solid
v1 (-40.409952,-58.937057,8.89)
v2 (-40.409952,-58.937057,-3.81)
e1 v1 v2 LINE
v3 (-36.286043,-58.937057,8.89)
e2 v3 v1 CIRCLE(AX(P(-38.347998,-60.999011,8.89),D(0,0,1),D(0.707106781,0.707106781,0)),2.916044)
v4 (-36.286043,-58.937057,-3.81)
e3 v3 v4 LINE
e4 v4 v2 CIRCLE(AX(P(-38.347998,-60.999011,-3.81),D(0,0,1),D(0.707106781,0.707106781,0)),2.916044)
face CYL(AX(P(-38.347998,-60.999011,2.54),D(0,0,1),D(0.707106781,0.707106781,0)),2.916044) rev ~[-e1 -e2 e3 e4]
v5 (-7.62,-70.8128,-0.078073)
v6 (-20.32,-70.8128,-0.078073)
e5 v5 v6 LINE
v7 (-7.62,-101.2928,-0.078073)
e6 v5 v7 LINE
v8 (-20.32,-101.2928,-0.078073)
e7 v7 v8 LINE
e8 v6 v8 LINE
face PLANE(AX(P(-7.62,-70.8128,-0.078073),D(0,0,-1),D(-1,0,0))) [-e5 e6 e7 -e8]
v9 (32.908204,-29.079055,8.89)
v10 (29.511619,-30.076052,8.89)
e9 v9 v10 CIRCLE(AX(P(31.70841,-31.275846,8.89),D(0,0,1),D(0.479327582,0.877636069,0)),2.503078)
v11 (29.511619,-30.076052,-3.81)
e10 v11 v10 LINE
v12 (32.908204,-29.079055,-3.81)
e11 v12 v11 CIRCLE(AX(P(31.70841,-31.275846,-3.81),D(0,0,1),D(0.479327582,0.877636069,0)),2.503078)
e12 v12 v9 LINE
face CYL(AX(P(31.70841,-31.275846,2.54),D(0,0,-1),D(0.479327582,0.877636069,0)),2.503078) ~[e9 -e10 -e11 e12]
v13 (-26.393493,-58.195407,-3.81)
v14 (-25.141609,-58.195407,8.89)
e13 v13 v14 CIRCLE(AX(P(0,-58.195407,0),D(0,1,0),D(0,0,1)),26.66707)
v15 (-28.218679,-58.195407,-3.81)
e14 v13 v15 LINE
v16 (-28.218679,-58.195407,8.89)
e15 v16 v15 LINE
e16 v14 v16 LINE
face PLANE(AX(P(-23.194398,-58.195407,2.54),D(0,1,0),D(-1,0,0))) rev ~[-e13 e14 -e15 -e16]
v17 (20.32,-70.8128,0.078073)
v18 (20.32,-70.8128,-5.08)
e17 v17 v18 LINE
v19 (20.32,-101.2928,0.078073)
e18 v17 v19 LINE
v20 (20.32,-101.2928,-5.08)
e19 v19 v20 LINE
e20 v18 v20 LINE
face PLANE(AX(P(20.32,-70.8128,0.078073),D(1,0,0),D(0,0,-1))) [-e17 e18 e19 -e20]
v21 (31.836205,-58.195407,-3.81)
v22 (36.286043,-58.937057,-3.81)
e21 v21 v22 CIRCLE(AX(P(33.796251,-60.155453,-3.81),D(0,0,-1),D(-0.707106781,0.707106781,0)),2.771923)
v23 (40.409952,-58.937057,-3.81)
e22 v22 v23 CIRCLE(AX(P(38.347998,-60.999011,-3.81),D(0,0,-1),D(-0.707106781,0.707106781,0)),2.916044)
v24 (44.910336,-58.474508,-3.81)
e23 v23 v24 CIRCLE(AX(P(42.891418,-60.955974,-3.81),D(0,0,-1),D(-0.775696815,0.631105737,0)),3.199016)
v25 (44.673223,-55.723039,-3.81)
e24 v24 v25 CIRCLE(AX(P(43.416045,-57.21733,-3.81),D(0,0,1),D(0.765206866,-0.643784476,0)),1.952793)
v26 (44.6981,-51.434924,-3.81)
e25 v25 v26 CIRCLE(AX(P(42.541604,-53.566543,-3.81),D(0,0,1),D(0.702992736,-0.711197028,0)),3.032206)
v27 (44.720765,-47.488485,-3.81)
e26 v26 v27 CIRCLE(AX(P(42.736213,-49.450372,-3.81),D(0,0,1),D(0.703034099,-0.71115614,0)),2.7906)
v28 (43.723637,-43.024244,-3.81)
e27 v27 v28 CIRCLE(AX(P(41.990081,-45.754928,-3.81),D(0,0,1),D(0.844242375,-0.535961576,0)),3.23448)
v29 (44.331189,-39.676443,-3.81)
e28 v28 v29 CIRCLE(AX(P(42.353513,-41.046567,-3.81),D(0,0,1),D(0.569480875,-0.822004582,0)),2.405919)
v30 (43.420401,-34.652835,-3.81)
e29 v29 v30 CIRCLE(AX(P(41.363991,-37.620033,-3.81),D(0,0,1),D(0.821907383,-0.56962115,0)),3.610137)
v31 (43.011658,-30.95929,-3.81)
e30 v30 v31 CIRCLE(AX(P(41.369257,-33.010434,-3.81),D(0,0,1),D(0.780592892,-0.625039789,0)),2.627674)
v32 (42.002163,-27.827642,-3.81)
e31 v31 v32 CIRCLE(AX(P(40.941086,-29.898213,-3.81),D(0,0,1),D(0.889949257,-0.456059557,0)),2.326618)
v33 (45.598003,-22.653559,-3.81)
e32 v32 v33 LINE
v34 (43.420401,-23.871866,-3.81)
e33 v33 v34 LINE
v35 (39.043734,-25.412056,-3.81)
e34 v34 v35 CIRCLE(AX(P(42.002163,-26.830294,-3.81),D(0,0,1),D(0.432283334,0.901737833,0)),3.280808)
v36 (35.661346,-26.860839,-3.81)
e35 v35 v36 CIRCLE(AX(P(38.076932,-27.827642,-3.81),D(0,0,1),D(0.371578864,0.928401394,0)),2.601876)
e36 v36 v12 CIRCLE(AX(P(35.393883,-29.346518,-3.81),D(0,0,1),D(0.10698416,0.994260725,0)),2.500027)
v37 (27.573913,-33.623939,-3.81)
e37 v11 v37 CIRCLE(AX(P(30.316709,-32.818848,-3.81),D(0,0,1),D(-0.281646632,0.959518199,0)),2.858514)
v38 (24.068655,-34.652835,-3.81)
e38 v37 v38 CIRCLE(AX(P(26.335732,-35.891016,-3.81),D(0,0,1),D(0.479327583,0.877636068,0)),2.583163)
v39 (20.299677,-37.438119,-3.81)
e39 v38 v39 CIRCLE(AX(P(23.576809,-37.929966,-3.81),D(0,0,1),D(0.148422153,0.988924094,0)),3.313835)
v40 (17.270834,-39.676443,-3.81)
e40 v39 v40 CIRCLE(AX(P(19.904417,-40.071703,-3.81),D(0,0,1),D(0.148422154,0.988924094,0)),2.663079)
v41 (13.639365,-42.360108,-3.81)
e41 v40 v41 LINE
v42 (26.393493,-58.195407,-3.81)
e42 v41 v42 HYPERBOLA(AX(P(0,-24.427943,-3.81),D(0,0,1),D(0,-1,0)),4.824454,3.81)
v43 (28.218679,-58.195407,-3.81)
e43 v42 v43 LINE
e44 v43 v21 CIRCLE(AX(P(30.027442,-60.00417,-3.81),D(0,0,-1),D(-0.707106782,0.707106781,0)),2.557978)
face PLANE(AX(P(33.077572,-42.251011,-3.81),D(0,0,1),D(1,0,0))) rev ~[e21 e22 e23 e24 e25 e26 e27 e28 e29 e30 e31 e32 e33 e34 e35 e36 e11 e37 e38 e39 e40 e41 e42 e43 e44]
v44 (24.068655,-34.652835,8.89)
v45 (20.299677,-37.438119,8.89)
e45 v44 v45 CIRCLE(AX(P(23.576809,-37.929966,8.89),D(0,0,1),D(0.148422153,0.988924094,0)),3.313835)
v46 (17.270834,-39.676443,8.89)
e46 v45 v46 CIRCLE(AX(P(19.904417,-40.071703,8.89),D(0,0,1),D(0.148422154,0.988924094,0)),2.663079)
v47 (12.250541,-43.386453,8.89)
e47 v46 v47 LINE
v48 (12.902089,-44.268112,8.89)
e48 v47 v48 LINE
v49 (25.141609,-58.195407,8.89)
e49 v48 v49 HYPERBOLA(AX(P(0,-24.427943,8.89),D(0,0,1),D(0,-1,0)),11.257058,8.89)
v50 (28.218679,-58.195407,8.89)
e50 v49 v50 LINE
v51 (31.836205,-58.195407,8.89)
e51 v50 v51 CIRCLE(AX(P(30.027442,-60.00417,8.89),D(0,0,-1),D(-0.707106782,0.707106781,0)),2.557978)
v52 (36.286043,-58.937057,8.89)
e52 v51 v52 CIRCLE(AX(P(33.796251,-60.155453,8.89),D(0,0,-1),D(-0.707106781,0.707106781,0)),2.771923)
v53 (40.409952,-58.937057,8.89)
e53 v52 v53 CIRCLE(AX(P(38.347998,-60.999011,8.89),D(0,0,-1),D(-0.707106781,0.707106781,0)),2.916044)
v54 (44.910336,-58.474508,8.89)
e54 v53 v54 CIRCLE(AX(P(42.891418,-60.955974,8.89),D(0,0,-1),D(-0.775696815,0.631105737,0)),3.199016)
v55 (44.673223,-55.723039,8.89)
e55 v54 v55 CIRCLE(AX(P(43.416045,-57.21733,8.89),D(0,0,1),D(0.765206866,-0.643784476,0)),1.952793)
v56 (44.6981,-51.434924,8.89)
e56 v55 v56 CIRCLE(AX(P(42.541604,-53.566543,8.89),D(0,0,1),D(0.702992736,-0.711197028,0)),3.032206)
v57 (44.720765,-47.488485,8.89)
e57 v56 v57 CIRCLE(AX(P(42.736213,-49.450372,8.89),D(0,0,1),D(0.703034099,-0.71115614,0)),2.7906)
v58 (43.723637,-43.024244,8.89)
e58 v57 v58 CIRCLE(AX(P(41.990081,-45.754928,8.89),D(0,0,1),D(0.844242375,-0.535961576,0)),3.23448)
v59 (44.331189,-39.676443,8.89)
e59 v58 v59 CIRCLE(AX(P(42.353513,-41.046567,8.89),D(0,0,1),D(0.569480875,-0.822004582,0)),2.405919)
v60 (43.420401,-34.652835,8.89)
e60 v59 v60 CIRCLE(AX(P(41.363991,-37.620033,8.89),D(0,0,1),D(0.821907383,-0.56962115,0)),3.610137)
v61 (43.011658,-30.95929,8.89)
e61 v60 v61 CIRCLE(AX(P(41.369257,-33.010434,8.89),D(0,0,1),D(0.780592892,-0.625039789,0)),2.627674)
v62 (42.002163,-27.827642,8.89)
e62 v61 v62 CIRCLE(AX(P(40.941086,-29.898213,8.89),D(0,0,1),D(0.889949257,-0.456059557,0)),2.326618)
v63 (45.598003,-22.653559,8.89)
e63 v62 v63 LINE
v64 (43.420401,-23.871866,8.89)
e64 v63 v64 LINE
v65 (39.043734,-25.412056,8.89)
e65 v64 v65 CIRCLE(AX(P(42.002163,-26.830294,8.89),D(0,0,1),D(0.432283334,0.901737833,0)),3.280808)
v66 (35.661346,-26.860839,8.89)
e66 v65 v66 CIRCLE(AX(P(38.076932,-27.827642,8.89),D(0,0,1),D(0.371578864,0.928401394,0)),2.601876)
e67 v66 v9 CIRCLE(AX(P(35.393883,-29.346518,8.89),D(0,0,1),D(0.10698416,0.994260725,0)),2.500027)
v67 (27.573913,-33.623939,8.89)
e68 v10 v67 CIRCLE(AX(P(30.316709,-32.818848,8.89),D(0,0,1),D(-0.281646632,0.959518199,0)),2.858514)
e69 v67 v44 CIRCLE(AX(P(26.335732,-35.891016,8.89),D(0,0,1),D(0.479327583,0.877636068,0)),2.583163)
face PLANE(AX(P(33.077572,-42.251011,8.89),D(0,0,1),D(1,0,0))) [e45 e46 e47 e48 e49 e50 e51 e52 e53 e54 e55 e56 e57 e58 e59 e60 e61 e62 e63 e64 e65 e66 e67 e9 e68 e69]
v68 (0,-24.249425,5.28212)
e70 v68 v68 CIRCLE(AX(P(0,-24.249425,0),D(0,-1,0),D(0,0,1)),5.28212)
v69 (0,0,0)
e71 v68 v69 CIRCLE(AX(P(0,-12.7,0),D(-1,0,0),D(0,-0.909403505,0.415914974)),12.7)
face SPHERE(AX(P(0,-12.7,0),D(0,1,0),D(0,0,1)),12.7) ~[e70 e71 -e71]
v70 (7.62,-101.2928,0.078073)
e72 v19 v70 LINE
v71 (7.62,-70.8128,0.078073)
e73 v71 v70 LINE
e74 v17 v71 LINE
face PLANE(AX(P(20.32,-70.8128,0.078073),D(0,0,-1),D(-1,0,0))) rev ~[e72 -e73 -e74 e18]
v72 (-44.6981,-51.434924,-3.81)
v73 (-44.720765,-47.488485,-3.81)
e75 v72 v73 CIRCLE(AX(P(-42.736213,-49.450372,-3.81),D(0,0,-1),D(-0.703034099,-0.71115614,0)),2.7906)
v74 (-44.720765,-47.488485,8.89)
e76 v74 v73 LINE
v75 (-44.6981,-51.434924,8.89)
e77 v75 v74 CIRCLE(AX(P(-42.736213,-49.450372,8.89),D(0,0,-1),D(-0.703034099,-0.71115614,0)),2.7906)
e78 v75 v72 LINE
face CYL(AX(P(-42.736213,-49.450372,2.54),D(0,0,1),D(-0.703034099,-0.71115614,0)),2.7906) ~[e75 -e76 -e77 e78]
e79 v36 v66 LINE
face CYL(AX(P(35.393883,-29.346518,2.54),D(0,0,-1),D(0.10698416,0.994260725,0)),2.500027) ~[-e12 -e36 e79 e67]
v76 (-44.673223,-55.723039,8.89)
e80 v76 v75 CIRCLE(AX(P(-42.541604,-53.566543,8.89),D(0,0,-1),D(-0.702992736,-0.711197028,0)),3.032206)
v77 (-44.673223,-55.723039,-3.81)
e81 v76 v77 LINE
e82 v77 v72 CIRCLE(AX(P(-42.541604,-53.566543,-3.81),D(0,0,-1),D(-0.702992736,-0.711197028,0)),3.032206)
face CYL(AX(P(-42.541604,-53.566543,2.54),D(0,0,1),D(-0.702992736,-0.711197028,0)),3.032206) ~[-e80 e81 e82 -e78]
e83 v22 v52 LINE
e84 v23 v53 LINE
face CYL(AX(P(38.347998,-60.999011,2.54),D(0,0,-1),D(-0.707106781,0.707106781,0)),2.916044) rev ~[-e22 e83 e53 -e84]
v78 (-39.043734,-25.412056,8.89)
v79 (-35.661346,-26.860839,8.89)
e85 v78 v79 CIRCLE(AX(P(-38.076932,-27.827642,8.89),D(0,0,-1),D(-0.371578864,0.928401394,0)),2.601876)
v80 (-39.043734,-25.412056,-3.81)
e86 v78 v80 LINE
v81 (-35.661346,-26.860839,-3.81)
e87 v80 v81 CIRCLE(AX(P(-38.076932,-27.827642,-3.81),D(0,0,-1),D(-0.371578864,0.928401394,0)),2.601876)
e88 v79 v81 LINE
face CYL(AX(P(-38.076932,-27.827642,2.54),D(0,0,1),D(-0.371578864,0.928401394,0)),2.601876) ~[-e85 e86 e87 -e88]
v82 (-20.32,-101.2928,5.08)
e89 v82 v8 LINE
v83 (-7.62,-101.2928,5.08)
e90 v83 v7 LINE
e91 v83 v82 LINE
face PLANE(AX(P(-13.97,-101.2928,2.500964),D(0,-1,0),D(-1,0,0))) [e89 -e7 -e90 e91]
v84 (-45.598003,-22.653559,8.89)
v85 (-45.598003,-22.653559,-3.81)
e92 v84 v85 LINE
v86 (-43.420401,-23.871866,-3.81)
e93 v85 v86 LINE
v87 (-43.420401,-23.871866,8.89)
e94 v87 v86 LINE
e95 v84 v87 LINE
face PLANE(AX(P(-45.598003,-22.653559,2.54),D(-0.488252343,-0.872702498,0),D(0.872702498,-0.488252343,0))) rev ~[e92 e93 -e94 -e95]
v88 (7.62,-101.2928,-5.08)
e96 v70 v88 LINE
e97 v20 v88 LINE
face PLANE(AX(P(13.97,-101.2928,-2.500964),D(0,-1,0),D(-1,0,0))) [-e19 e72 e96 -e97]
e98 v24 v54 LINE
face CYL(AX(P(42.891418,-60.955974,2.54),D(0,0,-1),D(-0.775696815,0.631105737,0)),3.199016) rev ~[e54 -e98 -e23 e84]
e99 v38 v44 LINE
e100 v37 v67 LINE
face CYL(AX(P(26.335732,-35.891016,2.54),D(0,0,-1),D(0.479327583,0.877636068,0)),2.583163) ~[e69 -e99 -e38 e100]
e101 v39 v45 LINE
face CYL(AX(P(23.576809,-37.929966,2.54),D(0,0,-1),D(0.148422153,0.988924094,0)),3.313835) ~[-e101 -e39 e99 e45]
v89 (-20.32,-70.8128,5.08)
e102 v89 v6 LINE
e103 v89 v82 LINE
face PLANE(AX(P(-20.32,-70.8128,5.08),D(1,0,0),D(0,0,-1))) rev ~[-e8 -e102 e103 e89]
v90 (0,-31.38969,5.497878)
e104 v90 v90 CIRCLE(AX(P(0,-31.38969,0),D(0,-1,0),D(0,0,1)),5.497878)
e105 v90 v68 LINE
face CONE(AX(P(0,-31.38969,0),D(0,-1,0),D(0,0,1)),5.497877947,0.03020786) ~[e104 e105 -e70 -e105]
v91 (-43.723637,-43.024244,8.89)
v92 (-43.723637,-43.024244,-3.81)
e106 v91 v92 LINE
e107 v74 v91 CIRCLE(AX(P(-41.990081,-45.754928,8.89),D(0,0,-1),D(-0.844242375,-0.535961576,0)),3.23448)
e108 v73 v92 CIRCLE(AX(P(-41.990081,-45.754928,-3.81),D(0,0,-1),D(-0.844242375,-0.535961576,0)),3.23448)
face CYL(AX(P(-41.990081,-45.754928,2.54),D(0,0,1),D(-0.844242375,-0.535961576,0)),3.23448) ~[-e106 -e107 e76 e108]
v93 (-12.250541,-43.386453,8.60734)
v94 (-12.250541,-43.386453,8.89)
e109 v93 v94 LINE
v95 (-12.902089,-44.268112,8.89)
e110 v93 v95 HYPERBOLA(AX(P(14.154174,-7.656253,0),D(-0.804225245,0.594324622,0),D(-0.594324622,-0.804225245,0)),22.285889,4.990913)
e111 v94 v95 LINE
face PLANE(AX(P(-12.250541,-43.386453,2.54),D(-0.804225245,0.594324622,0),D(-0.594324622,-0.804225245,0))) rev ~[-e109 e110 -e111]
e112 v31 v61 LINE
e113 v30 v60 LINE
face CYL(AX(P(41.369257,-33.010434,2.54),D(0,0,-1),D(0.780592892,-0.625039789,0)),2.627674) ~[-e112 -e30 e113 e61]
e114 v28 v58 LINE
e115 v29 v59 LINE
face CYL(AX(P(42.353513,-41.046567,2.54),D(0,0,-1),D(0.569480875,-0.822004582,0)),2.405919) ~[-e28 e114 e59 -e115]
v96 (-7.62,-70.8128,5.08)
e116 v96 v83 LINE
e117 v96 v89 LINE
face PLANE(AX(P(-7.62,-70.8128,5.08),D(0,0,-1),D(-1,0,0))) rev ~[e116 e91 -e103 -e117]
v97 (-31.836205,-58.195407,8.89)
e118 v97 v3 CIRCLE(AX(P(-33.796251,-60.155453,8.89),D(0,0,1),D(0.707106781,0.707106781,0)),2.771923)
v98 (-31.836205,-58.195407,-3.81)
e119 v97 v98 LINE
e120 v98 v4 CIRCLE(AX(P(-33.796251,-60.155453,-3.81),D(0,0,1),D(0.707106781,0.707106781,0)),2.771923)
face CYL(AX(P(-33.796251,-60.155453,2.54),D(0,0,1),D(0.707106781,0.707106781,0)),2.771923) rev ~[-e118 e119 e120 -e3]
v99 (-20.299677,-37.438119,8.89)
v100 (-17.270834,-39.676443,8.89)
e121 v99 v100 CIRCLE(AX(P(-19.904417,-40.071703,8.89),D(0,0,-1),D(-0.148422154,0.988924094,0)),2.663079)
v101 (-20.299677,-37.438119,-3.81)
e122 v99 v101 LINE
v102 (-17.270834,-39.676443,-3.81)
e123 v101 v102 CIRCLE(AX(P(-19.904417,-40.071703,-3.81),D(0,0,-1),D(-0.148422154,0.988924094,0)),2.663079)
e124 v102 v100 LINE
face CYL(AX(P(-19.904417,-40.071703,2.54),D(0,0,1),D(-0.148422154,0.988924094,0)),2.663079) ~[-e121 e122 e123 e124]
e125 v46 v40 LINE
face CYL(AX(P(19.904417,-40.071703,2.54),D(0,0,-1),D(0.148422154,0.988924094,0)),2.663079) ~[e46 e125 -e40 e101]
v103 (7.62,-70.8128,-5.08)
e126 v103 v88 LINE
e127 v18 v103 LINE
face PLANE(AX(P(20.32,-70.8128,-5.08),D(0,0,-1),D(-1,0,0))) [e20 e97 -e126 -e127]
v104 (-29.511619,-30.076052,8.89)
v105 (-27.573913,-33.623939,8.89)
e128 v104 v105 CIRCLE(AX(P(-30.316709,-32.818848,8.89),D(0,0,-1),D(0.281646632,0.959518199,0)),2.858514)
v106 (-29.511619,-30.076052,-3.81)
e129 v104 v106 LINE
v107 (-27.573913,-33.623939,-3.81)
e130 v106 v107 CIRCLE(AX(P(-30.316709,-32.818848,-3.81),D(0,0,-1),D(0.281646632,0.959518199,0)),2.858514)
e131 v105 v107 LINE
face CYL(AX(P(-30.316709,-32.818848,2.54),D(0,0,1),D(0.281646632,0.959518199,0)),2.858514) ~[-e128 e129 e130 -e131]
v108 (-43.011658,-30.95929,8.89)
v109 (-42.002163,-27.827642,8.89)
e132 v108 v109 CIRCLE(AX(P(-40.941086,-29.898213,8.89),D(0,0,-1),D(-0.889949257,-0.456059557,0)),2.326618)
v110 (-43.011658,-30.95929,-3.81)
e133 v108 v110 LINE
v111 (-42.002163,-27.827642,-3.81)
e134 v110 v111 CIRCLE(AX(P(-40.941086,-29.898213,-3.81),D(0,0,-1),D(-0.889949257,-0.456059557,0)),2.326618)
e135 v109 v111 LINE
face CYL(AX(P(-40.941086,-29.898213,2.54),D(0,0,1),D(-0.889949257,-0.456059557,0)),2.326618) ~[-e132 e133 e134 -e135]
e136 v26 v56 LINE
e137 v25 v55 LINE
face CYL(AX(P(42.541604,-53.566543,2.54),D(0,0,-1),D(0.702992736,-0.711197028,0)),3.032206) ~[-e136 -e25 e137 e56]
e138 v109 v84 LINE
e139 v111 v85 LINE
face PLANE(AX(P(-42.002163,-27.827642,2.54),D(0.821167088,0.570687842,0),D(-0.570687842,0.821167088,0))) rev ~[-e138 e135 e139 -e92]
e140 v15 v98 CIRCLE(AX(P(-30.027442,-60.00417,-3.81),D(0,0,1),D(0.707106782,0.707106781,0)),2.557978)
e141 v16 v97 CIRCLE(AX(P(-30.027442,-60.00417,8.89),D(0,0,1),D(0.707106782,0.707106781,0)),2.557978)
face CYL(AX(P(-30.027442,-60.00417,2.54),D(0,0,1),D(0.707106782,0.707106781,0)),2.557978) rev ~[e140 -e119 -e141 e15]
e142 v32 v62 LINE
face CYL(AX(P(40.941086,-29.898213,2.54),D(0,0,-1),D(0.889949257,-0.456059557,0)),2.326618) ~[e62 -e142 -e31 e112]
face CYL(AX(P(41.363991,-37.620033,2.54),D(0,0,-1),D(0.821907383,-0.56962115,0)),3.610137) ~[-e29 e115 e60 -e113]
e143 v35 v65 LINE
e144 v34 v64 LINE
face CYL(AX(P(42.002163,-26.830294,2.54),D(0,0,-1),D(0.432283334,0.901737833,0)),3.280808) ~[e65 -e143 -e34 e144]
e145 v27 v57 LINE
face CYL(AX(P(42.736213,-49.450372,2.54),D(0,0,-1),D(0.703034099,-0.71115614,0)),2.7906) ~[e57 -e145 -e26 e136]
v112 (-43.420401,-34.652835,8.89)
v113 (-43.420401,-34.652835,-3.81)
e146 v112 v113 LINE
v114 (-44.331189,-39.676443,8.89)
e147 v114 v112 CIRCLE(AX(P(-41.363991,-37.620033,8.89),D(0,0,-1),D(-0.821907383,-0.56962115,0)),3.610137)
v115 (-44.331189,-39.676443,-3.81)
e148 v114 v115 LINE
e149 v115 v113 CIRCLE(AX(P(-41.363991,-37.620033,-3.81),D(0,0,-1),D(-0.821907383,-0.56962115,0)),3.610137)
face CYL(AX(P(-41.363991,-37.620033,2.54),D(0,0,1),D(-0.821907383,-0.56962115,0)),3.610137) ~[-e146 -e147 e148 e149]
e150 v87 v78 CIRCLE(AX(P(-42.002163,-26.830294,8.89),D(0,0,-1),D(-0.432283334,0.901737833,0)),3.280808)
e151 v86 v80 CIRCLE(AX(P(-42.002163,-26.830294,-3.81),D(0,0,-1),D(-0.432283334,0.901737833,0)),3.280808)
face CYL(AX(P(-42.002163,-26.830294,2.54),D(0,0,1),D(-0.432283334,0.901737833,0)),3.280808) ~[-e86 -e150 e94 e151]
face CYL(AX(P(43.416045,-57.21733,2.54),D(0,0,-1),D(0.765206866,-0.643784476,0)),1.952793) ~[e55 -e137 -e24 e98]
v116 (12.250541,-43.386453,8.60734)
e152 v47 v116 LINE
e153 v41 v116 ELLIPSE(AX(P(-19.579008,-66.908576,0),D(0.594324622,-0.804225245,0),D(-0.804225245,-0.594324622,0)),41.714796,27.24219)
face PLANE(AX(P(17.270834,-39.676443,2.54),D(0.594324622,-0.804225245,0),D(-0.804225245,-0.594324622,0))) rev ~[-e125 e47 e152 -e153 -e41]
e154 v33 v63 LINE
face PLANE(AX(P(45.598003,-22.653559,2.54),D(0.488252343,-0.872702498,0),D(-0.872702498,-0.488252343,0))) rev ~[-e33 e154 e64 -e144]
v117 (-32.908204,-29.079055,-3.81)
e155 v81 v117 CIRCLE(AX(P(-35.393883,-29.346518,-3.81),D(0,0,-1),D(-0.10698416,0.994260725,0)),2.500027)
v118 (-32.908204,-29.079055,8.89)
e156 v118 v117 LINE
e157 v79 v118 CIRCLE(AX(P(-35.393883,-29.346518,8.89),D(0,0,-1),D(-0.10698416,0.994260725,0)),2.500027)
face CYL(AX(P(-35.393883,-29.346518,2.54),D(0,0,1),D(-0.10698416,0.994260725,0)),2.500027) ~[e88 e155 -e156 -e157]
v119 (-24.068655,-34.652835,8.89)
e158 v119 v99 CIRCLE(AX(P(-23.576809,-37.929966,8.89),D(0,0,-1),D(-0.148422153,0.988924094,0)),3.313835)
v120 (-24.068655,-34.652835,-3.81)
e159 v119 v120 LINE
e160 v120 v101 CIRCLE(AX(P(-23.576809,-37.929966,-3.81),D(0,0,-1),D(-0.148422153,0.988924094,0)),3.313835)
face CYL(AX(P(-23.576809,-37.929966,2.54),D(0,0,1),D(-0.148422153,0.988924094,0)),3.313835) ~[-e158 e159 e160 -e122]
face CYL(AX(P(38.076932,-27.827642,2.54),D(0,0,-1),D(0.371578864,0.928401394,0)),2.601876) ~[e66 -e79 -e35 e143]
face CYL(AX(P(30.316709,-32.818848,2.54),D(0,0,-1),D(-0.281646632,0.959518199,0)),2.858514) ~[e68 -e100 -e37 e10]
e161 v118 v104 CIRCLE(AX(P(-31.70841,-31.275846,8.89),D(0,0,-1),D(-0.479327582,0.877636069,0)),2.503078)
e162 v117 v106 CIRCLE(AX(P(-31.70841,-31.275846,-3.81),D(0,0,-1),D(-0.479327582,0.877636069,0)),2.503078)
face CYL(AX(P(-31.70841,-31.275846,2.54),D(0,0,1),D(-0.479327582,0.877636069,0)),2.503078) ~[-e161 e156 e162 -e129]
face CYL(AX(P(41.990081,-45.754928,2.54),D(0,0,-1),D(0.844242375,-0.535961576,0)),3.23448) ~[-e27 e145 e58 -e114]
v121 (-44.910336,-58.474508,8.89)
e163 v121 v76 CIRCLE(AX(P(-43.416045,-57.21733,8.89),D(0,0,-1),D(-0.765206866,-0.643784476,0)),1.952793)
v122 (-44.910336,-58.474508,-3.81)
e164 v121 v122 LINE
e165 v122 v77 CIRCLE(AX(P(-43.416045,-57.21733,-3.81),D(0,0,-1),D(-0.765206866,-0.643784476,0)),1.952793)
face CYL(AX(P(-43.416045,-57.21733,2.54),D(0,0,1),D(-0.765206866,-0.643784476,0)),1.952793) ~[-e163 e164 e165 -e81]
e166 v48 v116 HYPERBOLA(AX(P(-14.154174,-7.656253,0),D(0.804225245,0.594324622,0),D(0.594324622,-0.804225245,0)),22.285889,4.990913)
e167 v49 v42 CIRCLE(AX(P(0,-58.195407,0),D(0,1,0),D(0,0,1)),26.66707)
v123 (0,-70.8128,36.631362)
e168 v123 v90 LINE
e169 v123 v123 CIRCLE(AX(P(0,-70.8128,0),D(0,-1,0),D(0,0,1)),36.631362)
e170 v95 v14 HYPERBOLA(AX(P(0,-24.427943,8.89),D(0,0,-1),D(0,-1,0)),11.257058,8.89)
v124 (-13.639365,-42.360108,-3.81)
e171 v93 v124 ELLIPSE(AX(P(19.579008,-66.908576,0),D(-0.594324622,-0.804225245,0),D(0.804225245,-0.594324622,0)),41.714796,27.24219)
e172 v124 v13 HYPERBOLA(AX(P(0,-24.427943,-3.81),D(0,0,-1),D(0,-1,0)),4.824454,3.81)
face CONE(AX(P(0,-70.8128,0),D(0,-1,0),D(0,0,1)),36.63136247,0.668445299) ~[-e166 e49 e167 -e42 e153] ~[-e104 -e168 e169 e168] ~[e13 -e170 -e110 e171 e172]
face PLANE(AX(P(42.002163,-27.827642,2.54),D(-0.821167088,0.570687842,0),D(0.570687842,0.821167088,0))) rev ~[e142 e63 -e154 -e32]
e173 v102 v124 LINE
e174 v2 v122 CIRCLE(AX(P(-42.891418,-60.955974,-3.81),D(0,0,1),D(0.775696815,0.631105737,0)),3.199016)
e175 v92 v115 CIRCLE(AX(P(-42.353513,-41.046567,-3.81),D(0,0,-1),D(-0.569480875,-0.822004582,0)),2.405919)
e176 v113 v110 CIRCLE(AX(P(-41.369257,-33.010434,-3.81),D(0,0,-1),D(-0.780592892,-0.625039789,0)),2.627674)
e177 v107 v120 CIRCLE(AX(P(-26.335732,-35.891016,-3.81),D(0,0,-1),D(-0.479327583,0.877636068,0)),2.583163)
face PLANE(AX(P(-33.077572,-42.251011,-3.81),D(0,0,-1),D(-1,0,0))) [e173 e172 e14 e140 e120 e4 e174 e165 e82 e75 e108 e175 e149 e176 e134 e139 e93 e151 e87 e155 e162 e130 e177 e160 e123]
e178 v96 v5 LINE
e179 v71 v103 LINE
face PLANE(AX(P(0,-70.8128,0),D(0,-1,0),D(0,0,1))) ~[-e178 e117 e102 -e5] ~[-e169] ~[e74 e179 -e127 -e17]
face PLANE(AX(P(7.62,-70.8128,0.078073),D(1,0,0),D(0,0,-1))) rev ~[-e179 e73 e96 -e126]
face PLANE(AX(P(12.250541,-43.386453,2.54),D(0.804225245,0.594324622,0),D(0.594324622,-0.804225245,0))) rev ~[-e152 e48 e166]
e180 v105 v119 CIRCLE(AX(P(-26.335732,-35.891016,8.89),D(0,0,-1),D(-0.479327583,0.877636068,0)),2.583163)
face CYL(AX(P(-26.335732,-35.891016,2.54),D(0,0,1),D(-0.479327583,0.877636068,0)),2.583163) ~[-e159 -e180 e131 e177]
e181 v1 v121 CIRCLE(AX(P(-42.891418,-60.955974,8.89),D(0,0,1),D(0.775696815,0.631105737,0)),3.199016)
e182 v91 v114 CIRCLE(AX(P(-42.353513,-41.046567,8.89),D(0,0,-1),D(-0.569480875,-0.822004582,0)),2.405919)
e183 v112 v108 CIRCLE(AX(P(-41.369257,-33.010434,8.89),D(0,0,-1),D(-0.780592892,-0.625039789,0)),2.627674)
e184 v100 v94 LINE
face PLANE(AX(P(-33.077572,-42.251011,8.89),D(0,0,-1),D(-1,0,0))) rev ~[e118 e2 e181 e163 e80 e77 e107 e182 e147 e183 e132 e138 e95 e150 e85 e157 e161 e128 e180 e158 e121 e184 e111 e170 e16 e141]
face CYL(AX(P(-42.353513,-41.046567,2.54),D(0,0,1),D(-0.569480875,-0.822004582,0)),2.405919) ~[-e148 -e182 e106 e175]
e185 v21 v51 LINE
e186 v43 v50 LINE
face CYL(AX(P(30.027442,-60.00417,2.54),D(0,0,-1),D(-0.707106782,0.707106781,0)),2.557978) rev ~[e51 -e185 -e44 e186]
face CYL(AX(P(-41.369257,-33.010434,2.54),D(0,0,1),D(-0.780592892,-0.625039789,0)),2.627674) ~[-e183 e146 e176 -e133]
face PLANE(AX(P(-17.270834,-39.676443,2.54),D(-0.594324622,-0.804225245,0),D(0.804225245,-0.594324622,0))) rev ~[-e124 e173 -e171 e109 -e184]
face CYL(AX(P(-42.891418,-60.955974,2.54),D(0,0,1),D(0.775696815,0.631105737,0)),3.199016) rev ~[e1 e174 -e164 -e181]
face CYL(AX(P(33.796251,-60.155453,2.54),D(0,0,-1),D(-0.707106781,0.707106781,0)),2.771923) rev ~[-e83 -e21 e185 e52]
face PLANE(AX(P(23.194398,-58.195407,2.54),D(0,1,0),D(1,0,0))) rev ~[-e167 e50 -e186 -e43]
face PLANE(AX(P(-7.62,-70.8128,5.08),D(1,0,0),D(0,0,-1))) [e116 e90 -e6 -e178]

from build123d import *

# Parameters (mm, degrees)
SKETCH2_W           = 12.7
SKETCH2_H           = 5.158072601
BOSS_EXTRUDE1_DEPTH = 30.48
BOSS_EXTRUDE2_DEPTH = 6.35


with BuildPart() as part:
    # Sketch1 → Revolve1 (revolve)
    with BuildSketch(Plane.XY, mode=Mode.PRIVATE) as revolve1_sk:
        with BuildLine():
            Line((5.497877947, -31.389690294), (5.282120164, -24.249424513))
            ThreePointArc((5.282120164, -24.249424513), (12.409022752, -9.99701011), (0, 0))
            Line((0, 0), (0, -70.812800241))
            Line((0, -70.812800241), (36.63136247, -70.812800241))
            Line((36.63136247, -70.812800241), (5.497877947, -31.389690294))
        make_face()
    revolve(revolve1_sk.sketch.rotate(Axis((0, 0, 0), (0, -1, 0)), 90), axis=Axis((0, 0, 0), (0, -1, 0)))  # turned: the seam where the file's is

    # Sketch2 → Boss-Extrude1 (add)
    with BuildSketch(Plane(origin=(0, -70.812800241, 0), x_dir=(-1, 0, 0), z_dir=(0, -1, 0))):
        with Locations((13.97, -2.5009637)):
            Rectangle(SKETCH2_W, SKETCH2_H)
        with Locations((-13.97, 2.5009637)):
            Rectangle(SKETCH2_W, SKETCH2_H)
    extrude(amount=BOSS_EXTRUDE1_DEPTH)

    # Sketch4 → Boss-Extrude2 (add, symmetric)
    with BuildSketch(Plane.XY.offset(2.54)):
        with BuildLine():
            Line((23.194397658, -58.195407075), (28.218678504, -58.195407075))
            ThreePointArc((28.218678504, -58.195407075), (30.027441839, -57.44619277), (31.836205173, -58.195407075))
            ThreePointArc((31.836205173, -58.195407075), (34.251957858, -57.421245639), (36.286043383, -58.937056657))
            ThreePointArc((36.286043383, -58.937056657), (38.347997753, -58.082967192), (40.409952123, -58.937056657))
            ThreePointArc((40.409952123, -58.937056657), (42.564346856, -57.773722125), (44.910335716, -58.474507515))
            ThreePointArc((44.910335716, -58.474507515), (45.361627038, -57.049665796), (44.673222951, -55.723039401))
            ThreePointArc((44.673222951, -55.723039401), (45.573759248, -53.584134002), (44.698100059, -51.434924167))
            ThreePointArc((44.698100059, -51.434924167), (45.526766993, -49.466398887), (44.720765428, -47.488485304))
            ThreePointArc((44.720765428, -47.488485304), (45.146776163, -45.049852477), (43.723637436, -43.024243586))
            ThreePointArc((43.723637436, -43.024243586), (44.720765428, -41.476171224), (44.331188928, -39.676442795))
            ThreePointArc((44.331188928, -39.676442795), (44.916218335, -36.976008484), (43.420401182, -34.652834811))
            ThreePointArc((43.420401182, -34.652834811), (43.980987953, -32.721408857), (43.01165827, -30.959289761))
            ThreePointArc((43.01165827, -30.959289761), (43.155496077, -29.184392296), (42.002162733, -27.827641575))
            Line((42.002162733, -27.827641575), (45.598003191, -22.653559314))
            Line((45.598003191, -22.653559314), (43.420401182, -23.871865995))
            ThreePointArc((43.420401182, -23.871865995), (40.913084014, -23.73552357), (39.043734388, -25.41205589))
            ThreePointArc((39.043734388, -25.41205589), (37.052487537, -25.435932109), (35.661346423, -26.860839296))
            ThreePointArc((35.661346423, -26.860839296), (33.825367945, -27.399752632), (32.908204388, -29.079054738))
            ThreePointArc((32.908204388, -29.079054738), (31.003426578, -28.874097378), (29.511618532, -30.076051946))
            ThreePointArc((29.511618532, -30.076051946), (27.807974314, -31.448683603), (27.573913087, -33.623939136))
            ThreePointArc((27.573913087, -33.623939136), (25.608192785, -33.412424259), (24.068655026, -34.652834811))
            ThreePointArc((24.068655026, -34.652834811), (21.607314855, -35.264896302), (20.299677359, -37.438119458))
            ThreePointArc((20.299677359, -37.438119458), (18.321683781, -37.929987145), (17.270834086, -39.676442795))
            Line((17.270834086, -39.676442795), (12.250540769, -43.386453078))
            Line((12.250540769, -43.386453078), (23.194397658, -58.195407075))
        make_face()
        with BuildLine():
            Line((-23.194397658, -58.195407075), (-28.218678504, -58.195407075))
            ThreePointArc((-28.218678504, -58.195407075), (-30.027441839, -57.44619277), (-31.836205173, -58.195407075))
            ThreePointArc((-31.836205173, -58.195407075), (-34.251957858, -57.421245639), (-36.286043383, -58.937056657))
            ThreePointArc((-36.286043383, -58.937056657), (-38.347997753, -58.082967192), (-40.409952123, -58.937056657))
            ThreePointArc((-40.409952123, -58.937056657), (-42.564346856, -57.773722125), (-44.910335716, -58.474507515))
            ThreePointArc((-44.910335716, -58.474507515), (-45.361627038, -57.049665796), (-44.673222951, -55.723039401))
            ThreePointArc((-44.673222951, -55.723039401), (-45.573759248, -53.584134002), (-44.698100059, -51.434924167))
            ThreePointArc((-44.698100059, -51.434924167), (-45.526766993, -49.466398887), (-44.720765428, -47.488485304))
            ThreePointArc((-44.720765428, -47.488485304), (-45.146776163, -45.049852477), (-43.723637436, -43.024243586))
            ThreePointArc((-43.723637436, -43.024243586), (-44.720765428, -41.476171224), (-44.331188928, -39.676442795))
            ThreePointArc((-44.331188928, -39.676442795), (-44.916218335, -36.976008484), (-43.420401182, -34.652834811))
            ThreePointArc((-43.420401182, -34.652834811), (-43.980987953, -32.721408857), (-43.01165827, -30.959289761))
            ThreePointArc((-43.01165827, -30.959289761), (-43.155496077, -29.184392296), (-42.002162733, -27.827641575))
            Line((-42.002162733, -27.827641575), (-45.598003191, -22.653559314))
            Line((-45.598003191, -22.653559314), (-43.420401182, -23.871865995))
            ThreePointArc((-43.420401182, -23.871865995), (-40.913084014, -23.73552357), (-39.043734388, -25.41205589))
            ThreePointArc((-39.043734388, -25.41205589), (-37.052487537, -25.435932109), (-35.661346423, -26.860839296))
            ThreePointArc((-35.661346423, -26.860839296), (-33.825367945, -27.399752632), (-32.908204388, -29.079054738))
            ThreePointArc((-32.908204388, -29.079054738), (-31.003426578, -28.874097378), (-29.511618532, -30.076051946))
            ThreePointArc((-29.511618532, -30.076051946), (-27.807974314, -31.448683603), (-27.573913087, -33.623939136))
            ThreePointArc((-27.573913087, -33.623939136), (-25.608192785, -33.412424259), (-24.068655026, -34.652834811))
            ThreePointArc((-24.068655026, -34.652834811), (-21.607314855, -35.264896302), (-20.299677359, -37.438119458))
            ThreePointArc((-20.299677359, -37.438119458), (-18.321683781, -37.929987145), (-17.270834086, -39.676442795))
            Line((-17.270834086, -39.676442795), (-12.250540769, -43.386453078))
            Line((-12.250540769, -43.386453078), (-23.194397658, -58.195407075))
        make_face()
    extrude(amount=BOSS_EXTRUDE2_DEPTH, both=True)


solid = part.part
